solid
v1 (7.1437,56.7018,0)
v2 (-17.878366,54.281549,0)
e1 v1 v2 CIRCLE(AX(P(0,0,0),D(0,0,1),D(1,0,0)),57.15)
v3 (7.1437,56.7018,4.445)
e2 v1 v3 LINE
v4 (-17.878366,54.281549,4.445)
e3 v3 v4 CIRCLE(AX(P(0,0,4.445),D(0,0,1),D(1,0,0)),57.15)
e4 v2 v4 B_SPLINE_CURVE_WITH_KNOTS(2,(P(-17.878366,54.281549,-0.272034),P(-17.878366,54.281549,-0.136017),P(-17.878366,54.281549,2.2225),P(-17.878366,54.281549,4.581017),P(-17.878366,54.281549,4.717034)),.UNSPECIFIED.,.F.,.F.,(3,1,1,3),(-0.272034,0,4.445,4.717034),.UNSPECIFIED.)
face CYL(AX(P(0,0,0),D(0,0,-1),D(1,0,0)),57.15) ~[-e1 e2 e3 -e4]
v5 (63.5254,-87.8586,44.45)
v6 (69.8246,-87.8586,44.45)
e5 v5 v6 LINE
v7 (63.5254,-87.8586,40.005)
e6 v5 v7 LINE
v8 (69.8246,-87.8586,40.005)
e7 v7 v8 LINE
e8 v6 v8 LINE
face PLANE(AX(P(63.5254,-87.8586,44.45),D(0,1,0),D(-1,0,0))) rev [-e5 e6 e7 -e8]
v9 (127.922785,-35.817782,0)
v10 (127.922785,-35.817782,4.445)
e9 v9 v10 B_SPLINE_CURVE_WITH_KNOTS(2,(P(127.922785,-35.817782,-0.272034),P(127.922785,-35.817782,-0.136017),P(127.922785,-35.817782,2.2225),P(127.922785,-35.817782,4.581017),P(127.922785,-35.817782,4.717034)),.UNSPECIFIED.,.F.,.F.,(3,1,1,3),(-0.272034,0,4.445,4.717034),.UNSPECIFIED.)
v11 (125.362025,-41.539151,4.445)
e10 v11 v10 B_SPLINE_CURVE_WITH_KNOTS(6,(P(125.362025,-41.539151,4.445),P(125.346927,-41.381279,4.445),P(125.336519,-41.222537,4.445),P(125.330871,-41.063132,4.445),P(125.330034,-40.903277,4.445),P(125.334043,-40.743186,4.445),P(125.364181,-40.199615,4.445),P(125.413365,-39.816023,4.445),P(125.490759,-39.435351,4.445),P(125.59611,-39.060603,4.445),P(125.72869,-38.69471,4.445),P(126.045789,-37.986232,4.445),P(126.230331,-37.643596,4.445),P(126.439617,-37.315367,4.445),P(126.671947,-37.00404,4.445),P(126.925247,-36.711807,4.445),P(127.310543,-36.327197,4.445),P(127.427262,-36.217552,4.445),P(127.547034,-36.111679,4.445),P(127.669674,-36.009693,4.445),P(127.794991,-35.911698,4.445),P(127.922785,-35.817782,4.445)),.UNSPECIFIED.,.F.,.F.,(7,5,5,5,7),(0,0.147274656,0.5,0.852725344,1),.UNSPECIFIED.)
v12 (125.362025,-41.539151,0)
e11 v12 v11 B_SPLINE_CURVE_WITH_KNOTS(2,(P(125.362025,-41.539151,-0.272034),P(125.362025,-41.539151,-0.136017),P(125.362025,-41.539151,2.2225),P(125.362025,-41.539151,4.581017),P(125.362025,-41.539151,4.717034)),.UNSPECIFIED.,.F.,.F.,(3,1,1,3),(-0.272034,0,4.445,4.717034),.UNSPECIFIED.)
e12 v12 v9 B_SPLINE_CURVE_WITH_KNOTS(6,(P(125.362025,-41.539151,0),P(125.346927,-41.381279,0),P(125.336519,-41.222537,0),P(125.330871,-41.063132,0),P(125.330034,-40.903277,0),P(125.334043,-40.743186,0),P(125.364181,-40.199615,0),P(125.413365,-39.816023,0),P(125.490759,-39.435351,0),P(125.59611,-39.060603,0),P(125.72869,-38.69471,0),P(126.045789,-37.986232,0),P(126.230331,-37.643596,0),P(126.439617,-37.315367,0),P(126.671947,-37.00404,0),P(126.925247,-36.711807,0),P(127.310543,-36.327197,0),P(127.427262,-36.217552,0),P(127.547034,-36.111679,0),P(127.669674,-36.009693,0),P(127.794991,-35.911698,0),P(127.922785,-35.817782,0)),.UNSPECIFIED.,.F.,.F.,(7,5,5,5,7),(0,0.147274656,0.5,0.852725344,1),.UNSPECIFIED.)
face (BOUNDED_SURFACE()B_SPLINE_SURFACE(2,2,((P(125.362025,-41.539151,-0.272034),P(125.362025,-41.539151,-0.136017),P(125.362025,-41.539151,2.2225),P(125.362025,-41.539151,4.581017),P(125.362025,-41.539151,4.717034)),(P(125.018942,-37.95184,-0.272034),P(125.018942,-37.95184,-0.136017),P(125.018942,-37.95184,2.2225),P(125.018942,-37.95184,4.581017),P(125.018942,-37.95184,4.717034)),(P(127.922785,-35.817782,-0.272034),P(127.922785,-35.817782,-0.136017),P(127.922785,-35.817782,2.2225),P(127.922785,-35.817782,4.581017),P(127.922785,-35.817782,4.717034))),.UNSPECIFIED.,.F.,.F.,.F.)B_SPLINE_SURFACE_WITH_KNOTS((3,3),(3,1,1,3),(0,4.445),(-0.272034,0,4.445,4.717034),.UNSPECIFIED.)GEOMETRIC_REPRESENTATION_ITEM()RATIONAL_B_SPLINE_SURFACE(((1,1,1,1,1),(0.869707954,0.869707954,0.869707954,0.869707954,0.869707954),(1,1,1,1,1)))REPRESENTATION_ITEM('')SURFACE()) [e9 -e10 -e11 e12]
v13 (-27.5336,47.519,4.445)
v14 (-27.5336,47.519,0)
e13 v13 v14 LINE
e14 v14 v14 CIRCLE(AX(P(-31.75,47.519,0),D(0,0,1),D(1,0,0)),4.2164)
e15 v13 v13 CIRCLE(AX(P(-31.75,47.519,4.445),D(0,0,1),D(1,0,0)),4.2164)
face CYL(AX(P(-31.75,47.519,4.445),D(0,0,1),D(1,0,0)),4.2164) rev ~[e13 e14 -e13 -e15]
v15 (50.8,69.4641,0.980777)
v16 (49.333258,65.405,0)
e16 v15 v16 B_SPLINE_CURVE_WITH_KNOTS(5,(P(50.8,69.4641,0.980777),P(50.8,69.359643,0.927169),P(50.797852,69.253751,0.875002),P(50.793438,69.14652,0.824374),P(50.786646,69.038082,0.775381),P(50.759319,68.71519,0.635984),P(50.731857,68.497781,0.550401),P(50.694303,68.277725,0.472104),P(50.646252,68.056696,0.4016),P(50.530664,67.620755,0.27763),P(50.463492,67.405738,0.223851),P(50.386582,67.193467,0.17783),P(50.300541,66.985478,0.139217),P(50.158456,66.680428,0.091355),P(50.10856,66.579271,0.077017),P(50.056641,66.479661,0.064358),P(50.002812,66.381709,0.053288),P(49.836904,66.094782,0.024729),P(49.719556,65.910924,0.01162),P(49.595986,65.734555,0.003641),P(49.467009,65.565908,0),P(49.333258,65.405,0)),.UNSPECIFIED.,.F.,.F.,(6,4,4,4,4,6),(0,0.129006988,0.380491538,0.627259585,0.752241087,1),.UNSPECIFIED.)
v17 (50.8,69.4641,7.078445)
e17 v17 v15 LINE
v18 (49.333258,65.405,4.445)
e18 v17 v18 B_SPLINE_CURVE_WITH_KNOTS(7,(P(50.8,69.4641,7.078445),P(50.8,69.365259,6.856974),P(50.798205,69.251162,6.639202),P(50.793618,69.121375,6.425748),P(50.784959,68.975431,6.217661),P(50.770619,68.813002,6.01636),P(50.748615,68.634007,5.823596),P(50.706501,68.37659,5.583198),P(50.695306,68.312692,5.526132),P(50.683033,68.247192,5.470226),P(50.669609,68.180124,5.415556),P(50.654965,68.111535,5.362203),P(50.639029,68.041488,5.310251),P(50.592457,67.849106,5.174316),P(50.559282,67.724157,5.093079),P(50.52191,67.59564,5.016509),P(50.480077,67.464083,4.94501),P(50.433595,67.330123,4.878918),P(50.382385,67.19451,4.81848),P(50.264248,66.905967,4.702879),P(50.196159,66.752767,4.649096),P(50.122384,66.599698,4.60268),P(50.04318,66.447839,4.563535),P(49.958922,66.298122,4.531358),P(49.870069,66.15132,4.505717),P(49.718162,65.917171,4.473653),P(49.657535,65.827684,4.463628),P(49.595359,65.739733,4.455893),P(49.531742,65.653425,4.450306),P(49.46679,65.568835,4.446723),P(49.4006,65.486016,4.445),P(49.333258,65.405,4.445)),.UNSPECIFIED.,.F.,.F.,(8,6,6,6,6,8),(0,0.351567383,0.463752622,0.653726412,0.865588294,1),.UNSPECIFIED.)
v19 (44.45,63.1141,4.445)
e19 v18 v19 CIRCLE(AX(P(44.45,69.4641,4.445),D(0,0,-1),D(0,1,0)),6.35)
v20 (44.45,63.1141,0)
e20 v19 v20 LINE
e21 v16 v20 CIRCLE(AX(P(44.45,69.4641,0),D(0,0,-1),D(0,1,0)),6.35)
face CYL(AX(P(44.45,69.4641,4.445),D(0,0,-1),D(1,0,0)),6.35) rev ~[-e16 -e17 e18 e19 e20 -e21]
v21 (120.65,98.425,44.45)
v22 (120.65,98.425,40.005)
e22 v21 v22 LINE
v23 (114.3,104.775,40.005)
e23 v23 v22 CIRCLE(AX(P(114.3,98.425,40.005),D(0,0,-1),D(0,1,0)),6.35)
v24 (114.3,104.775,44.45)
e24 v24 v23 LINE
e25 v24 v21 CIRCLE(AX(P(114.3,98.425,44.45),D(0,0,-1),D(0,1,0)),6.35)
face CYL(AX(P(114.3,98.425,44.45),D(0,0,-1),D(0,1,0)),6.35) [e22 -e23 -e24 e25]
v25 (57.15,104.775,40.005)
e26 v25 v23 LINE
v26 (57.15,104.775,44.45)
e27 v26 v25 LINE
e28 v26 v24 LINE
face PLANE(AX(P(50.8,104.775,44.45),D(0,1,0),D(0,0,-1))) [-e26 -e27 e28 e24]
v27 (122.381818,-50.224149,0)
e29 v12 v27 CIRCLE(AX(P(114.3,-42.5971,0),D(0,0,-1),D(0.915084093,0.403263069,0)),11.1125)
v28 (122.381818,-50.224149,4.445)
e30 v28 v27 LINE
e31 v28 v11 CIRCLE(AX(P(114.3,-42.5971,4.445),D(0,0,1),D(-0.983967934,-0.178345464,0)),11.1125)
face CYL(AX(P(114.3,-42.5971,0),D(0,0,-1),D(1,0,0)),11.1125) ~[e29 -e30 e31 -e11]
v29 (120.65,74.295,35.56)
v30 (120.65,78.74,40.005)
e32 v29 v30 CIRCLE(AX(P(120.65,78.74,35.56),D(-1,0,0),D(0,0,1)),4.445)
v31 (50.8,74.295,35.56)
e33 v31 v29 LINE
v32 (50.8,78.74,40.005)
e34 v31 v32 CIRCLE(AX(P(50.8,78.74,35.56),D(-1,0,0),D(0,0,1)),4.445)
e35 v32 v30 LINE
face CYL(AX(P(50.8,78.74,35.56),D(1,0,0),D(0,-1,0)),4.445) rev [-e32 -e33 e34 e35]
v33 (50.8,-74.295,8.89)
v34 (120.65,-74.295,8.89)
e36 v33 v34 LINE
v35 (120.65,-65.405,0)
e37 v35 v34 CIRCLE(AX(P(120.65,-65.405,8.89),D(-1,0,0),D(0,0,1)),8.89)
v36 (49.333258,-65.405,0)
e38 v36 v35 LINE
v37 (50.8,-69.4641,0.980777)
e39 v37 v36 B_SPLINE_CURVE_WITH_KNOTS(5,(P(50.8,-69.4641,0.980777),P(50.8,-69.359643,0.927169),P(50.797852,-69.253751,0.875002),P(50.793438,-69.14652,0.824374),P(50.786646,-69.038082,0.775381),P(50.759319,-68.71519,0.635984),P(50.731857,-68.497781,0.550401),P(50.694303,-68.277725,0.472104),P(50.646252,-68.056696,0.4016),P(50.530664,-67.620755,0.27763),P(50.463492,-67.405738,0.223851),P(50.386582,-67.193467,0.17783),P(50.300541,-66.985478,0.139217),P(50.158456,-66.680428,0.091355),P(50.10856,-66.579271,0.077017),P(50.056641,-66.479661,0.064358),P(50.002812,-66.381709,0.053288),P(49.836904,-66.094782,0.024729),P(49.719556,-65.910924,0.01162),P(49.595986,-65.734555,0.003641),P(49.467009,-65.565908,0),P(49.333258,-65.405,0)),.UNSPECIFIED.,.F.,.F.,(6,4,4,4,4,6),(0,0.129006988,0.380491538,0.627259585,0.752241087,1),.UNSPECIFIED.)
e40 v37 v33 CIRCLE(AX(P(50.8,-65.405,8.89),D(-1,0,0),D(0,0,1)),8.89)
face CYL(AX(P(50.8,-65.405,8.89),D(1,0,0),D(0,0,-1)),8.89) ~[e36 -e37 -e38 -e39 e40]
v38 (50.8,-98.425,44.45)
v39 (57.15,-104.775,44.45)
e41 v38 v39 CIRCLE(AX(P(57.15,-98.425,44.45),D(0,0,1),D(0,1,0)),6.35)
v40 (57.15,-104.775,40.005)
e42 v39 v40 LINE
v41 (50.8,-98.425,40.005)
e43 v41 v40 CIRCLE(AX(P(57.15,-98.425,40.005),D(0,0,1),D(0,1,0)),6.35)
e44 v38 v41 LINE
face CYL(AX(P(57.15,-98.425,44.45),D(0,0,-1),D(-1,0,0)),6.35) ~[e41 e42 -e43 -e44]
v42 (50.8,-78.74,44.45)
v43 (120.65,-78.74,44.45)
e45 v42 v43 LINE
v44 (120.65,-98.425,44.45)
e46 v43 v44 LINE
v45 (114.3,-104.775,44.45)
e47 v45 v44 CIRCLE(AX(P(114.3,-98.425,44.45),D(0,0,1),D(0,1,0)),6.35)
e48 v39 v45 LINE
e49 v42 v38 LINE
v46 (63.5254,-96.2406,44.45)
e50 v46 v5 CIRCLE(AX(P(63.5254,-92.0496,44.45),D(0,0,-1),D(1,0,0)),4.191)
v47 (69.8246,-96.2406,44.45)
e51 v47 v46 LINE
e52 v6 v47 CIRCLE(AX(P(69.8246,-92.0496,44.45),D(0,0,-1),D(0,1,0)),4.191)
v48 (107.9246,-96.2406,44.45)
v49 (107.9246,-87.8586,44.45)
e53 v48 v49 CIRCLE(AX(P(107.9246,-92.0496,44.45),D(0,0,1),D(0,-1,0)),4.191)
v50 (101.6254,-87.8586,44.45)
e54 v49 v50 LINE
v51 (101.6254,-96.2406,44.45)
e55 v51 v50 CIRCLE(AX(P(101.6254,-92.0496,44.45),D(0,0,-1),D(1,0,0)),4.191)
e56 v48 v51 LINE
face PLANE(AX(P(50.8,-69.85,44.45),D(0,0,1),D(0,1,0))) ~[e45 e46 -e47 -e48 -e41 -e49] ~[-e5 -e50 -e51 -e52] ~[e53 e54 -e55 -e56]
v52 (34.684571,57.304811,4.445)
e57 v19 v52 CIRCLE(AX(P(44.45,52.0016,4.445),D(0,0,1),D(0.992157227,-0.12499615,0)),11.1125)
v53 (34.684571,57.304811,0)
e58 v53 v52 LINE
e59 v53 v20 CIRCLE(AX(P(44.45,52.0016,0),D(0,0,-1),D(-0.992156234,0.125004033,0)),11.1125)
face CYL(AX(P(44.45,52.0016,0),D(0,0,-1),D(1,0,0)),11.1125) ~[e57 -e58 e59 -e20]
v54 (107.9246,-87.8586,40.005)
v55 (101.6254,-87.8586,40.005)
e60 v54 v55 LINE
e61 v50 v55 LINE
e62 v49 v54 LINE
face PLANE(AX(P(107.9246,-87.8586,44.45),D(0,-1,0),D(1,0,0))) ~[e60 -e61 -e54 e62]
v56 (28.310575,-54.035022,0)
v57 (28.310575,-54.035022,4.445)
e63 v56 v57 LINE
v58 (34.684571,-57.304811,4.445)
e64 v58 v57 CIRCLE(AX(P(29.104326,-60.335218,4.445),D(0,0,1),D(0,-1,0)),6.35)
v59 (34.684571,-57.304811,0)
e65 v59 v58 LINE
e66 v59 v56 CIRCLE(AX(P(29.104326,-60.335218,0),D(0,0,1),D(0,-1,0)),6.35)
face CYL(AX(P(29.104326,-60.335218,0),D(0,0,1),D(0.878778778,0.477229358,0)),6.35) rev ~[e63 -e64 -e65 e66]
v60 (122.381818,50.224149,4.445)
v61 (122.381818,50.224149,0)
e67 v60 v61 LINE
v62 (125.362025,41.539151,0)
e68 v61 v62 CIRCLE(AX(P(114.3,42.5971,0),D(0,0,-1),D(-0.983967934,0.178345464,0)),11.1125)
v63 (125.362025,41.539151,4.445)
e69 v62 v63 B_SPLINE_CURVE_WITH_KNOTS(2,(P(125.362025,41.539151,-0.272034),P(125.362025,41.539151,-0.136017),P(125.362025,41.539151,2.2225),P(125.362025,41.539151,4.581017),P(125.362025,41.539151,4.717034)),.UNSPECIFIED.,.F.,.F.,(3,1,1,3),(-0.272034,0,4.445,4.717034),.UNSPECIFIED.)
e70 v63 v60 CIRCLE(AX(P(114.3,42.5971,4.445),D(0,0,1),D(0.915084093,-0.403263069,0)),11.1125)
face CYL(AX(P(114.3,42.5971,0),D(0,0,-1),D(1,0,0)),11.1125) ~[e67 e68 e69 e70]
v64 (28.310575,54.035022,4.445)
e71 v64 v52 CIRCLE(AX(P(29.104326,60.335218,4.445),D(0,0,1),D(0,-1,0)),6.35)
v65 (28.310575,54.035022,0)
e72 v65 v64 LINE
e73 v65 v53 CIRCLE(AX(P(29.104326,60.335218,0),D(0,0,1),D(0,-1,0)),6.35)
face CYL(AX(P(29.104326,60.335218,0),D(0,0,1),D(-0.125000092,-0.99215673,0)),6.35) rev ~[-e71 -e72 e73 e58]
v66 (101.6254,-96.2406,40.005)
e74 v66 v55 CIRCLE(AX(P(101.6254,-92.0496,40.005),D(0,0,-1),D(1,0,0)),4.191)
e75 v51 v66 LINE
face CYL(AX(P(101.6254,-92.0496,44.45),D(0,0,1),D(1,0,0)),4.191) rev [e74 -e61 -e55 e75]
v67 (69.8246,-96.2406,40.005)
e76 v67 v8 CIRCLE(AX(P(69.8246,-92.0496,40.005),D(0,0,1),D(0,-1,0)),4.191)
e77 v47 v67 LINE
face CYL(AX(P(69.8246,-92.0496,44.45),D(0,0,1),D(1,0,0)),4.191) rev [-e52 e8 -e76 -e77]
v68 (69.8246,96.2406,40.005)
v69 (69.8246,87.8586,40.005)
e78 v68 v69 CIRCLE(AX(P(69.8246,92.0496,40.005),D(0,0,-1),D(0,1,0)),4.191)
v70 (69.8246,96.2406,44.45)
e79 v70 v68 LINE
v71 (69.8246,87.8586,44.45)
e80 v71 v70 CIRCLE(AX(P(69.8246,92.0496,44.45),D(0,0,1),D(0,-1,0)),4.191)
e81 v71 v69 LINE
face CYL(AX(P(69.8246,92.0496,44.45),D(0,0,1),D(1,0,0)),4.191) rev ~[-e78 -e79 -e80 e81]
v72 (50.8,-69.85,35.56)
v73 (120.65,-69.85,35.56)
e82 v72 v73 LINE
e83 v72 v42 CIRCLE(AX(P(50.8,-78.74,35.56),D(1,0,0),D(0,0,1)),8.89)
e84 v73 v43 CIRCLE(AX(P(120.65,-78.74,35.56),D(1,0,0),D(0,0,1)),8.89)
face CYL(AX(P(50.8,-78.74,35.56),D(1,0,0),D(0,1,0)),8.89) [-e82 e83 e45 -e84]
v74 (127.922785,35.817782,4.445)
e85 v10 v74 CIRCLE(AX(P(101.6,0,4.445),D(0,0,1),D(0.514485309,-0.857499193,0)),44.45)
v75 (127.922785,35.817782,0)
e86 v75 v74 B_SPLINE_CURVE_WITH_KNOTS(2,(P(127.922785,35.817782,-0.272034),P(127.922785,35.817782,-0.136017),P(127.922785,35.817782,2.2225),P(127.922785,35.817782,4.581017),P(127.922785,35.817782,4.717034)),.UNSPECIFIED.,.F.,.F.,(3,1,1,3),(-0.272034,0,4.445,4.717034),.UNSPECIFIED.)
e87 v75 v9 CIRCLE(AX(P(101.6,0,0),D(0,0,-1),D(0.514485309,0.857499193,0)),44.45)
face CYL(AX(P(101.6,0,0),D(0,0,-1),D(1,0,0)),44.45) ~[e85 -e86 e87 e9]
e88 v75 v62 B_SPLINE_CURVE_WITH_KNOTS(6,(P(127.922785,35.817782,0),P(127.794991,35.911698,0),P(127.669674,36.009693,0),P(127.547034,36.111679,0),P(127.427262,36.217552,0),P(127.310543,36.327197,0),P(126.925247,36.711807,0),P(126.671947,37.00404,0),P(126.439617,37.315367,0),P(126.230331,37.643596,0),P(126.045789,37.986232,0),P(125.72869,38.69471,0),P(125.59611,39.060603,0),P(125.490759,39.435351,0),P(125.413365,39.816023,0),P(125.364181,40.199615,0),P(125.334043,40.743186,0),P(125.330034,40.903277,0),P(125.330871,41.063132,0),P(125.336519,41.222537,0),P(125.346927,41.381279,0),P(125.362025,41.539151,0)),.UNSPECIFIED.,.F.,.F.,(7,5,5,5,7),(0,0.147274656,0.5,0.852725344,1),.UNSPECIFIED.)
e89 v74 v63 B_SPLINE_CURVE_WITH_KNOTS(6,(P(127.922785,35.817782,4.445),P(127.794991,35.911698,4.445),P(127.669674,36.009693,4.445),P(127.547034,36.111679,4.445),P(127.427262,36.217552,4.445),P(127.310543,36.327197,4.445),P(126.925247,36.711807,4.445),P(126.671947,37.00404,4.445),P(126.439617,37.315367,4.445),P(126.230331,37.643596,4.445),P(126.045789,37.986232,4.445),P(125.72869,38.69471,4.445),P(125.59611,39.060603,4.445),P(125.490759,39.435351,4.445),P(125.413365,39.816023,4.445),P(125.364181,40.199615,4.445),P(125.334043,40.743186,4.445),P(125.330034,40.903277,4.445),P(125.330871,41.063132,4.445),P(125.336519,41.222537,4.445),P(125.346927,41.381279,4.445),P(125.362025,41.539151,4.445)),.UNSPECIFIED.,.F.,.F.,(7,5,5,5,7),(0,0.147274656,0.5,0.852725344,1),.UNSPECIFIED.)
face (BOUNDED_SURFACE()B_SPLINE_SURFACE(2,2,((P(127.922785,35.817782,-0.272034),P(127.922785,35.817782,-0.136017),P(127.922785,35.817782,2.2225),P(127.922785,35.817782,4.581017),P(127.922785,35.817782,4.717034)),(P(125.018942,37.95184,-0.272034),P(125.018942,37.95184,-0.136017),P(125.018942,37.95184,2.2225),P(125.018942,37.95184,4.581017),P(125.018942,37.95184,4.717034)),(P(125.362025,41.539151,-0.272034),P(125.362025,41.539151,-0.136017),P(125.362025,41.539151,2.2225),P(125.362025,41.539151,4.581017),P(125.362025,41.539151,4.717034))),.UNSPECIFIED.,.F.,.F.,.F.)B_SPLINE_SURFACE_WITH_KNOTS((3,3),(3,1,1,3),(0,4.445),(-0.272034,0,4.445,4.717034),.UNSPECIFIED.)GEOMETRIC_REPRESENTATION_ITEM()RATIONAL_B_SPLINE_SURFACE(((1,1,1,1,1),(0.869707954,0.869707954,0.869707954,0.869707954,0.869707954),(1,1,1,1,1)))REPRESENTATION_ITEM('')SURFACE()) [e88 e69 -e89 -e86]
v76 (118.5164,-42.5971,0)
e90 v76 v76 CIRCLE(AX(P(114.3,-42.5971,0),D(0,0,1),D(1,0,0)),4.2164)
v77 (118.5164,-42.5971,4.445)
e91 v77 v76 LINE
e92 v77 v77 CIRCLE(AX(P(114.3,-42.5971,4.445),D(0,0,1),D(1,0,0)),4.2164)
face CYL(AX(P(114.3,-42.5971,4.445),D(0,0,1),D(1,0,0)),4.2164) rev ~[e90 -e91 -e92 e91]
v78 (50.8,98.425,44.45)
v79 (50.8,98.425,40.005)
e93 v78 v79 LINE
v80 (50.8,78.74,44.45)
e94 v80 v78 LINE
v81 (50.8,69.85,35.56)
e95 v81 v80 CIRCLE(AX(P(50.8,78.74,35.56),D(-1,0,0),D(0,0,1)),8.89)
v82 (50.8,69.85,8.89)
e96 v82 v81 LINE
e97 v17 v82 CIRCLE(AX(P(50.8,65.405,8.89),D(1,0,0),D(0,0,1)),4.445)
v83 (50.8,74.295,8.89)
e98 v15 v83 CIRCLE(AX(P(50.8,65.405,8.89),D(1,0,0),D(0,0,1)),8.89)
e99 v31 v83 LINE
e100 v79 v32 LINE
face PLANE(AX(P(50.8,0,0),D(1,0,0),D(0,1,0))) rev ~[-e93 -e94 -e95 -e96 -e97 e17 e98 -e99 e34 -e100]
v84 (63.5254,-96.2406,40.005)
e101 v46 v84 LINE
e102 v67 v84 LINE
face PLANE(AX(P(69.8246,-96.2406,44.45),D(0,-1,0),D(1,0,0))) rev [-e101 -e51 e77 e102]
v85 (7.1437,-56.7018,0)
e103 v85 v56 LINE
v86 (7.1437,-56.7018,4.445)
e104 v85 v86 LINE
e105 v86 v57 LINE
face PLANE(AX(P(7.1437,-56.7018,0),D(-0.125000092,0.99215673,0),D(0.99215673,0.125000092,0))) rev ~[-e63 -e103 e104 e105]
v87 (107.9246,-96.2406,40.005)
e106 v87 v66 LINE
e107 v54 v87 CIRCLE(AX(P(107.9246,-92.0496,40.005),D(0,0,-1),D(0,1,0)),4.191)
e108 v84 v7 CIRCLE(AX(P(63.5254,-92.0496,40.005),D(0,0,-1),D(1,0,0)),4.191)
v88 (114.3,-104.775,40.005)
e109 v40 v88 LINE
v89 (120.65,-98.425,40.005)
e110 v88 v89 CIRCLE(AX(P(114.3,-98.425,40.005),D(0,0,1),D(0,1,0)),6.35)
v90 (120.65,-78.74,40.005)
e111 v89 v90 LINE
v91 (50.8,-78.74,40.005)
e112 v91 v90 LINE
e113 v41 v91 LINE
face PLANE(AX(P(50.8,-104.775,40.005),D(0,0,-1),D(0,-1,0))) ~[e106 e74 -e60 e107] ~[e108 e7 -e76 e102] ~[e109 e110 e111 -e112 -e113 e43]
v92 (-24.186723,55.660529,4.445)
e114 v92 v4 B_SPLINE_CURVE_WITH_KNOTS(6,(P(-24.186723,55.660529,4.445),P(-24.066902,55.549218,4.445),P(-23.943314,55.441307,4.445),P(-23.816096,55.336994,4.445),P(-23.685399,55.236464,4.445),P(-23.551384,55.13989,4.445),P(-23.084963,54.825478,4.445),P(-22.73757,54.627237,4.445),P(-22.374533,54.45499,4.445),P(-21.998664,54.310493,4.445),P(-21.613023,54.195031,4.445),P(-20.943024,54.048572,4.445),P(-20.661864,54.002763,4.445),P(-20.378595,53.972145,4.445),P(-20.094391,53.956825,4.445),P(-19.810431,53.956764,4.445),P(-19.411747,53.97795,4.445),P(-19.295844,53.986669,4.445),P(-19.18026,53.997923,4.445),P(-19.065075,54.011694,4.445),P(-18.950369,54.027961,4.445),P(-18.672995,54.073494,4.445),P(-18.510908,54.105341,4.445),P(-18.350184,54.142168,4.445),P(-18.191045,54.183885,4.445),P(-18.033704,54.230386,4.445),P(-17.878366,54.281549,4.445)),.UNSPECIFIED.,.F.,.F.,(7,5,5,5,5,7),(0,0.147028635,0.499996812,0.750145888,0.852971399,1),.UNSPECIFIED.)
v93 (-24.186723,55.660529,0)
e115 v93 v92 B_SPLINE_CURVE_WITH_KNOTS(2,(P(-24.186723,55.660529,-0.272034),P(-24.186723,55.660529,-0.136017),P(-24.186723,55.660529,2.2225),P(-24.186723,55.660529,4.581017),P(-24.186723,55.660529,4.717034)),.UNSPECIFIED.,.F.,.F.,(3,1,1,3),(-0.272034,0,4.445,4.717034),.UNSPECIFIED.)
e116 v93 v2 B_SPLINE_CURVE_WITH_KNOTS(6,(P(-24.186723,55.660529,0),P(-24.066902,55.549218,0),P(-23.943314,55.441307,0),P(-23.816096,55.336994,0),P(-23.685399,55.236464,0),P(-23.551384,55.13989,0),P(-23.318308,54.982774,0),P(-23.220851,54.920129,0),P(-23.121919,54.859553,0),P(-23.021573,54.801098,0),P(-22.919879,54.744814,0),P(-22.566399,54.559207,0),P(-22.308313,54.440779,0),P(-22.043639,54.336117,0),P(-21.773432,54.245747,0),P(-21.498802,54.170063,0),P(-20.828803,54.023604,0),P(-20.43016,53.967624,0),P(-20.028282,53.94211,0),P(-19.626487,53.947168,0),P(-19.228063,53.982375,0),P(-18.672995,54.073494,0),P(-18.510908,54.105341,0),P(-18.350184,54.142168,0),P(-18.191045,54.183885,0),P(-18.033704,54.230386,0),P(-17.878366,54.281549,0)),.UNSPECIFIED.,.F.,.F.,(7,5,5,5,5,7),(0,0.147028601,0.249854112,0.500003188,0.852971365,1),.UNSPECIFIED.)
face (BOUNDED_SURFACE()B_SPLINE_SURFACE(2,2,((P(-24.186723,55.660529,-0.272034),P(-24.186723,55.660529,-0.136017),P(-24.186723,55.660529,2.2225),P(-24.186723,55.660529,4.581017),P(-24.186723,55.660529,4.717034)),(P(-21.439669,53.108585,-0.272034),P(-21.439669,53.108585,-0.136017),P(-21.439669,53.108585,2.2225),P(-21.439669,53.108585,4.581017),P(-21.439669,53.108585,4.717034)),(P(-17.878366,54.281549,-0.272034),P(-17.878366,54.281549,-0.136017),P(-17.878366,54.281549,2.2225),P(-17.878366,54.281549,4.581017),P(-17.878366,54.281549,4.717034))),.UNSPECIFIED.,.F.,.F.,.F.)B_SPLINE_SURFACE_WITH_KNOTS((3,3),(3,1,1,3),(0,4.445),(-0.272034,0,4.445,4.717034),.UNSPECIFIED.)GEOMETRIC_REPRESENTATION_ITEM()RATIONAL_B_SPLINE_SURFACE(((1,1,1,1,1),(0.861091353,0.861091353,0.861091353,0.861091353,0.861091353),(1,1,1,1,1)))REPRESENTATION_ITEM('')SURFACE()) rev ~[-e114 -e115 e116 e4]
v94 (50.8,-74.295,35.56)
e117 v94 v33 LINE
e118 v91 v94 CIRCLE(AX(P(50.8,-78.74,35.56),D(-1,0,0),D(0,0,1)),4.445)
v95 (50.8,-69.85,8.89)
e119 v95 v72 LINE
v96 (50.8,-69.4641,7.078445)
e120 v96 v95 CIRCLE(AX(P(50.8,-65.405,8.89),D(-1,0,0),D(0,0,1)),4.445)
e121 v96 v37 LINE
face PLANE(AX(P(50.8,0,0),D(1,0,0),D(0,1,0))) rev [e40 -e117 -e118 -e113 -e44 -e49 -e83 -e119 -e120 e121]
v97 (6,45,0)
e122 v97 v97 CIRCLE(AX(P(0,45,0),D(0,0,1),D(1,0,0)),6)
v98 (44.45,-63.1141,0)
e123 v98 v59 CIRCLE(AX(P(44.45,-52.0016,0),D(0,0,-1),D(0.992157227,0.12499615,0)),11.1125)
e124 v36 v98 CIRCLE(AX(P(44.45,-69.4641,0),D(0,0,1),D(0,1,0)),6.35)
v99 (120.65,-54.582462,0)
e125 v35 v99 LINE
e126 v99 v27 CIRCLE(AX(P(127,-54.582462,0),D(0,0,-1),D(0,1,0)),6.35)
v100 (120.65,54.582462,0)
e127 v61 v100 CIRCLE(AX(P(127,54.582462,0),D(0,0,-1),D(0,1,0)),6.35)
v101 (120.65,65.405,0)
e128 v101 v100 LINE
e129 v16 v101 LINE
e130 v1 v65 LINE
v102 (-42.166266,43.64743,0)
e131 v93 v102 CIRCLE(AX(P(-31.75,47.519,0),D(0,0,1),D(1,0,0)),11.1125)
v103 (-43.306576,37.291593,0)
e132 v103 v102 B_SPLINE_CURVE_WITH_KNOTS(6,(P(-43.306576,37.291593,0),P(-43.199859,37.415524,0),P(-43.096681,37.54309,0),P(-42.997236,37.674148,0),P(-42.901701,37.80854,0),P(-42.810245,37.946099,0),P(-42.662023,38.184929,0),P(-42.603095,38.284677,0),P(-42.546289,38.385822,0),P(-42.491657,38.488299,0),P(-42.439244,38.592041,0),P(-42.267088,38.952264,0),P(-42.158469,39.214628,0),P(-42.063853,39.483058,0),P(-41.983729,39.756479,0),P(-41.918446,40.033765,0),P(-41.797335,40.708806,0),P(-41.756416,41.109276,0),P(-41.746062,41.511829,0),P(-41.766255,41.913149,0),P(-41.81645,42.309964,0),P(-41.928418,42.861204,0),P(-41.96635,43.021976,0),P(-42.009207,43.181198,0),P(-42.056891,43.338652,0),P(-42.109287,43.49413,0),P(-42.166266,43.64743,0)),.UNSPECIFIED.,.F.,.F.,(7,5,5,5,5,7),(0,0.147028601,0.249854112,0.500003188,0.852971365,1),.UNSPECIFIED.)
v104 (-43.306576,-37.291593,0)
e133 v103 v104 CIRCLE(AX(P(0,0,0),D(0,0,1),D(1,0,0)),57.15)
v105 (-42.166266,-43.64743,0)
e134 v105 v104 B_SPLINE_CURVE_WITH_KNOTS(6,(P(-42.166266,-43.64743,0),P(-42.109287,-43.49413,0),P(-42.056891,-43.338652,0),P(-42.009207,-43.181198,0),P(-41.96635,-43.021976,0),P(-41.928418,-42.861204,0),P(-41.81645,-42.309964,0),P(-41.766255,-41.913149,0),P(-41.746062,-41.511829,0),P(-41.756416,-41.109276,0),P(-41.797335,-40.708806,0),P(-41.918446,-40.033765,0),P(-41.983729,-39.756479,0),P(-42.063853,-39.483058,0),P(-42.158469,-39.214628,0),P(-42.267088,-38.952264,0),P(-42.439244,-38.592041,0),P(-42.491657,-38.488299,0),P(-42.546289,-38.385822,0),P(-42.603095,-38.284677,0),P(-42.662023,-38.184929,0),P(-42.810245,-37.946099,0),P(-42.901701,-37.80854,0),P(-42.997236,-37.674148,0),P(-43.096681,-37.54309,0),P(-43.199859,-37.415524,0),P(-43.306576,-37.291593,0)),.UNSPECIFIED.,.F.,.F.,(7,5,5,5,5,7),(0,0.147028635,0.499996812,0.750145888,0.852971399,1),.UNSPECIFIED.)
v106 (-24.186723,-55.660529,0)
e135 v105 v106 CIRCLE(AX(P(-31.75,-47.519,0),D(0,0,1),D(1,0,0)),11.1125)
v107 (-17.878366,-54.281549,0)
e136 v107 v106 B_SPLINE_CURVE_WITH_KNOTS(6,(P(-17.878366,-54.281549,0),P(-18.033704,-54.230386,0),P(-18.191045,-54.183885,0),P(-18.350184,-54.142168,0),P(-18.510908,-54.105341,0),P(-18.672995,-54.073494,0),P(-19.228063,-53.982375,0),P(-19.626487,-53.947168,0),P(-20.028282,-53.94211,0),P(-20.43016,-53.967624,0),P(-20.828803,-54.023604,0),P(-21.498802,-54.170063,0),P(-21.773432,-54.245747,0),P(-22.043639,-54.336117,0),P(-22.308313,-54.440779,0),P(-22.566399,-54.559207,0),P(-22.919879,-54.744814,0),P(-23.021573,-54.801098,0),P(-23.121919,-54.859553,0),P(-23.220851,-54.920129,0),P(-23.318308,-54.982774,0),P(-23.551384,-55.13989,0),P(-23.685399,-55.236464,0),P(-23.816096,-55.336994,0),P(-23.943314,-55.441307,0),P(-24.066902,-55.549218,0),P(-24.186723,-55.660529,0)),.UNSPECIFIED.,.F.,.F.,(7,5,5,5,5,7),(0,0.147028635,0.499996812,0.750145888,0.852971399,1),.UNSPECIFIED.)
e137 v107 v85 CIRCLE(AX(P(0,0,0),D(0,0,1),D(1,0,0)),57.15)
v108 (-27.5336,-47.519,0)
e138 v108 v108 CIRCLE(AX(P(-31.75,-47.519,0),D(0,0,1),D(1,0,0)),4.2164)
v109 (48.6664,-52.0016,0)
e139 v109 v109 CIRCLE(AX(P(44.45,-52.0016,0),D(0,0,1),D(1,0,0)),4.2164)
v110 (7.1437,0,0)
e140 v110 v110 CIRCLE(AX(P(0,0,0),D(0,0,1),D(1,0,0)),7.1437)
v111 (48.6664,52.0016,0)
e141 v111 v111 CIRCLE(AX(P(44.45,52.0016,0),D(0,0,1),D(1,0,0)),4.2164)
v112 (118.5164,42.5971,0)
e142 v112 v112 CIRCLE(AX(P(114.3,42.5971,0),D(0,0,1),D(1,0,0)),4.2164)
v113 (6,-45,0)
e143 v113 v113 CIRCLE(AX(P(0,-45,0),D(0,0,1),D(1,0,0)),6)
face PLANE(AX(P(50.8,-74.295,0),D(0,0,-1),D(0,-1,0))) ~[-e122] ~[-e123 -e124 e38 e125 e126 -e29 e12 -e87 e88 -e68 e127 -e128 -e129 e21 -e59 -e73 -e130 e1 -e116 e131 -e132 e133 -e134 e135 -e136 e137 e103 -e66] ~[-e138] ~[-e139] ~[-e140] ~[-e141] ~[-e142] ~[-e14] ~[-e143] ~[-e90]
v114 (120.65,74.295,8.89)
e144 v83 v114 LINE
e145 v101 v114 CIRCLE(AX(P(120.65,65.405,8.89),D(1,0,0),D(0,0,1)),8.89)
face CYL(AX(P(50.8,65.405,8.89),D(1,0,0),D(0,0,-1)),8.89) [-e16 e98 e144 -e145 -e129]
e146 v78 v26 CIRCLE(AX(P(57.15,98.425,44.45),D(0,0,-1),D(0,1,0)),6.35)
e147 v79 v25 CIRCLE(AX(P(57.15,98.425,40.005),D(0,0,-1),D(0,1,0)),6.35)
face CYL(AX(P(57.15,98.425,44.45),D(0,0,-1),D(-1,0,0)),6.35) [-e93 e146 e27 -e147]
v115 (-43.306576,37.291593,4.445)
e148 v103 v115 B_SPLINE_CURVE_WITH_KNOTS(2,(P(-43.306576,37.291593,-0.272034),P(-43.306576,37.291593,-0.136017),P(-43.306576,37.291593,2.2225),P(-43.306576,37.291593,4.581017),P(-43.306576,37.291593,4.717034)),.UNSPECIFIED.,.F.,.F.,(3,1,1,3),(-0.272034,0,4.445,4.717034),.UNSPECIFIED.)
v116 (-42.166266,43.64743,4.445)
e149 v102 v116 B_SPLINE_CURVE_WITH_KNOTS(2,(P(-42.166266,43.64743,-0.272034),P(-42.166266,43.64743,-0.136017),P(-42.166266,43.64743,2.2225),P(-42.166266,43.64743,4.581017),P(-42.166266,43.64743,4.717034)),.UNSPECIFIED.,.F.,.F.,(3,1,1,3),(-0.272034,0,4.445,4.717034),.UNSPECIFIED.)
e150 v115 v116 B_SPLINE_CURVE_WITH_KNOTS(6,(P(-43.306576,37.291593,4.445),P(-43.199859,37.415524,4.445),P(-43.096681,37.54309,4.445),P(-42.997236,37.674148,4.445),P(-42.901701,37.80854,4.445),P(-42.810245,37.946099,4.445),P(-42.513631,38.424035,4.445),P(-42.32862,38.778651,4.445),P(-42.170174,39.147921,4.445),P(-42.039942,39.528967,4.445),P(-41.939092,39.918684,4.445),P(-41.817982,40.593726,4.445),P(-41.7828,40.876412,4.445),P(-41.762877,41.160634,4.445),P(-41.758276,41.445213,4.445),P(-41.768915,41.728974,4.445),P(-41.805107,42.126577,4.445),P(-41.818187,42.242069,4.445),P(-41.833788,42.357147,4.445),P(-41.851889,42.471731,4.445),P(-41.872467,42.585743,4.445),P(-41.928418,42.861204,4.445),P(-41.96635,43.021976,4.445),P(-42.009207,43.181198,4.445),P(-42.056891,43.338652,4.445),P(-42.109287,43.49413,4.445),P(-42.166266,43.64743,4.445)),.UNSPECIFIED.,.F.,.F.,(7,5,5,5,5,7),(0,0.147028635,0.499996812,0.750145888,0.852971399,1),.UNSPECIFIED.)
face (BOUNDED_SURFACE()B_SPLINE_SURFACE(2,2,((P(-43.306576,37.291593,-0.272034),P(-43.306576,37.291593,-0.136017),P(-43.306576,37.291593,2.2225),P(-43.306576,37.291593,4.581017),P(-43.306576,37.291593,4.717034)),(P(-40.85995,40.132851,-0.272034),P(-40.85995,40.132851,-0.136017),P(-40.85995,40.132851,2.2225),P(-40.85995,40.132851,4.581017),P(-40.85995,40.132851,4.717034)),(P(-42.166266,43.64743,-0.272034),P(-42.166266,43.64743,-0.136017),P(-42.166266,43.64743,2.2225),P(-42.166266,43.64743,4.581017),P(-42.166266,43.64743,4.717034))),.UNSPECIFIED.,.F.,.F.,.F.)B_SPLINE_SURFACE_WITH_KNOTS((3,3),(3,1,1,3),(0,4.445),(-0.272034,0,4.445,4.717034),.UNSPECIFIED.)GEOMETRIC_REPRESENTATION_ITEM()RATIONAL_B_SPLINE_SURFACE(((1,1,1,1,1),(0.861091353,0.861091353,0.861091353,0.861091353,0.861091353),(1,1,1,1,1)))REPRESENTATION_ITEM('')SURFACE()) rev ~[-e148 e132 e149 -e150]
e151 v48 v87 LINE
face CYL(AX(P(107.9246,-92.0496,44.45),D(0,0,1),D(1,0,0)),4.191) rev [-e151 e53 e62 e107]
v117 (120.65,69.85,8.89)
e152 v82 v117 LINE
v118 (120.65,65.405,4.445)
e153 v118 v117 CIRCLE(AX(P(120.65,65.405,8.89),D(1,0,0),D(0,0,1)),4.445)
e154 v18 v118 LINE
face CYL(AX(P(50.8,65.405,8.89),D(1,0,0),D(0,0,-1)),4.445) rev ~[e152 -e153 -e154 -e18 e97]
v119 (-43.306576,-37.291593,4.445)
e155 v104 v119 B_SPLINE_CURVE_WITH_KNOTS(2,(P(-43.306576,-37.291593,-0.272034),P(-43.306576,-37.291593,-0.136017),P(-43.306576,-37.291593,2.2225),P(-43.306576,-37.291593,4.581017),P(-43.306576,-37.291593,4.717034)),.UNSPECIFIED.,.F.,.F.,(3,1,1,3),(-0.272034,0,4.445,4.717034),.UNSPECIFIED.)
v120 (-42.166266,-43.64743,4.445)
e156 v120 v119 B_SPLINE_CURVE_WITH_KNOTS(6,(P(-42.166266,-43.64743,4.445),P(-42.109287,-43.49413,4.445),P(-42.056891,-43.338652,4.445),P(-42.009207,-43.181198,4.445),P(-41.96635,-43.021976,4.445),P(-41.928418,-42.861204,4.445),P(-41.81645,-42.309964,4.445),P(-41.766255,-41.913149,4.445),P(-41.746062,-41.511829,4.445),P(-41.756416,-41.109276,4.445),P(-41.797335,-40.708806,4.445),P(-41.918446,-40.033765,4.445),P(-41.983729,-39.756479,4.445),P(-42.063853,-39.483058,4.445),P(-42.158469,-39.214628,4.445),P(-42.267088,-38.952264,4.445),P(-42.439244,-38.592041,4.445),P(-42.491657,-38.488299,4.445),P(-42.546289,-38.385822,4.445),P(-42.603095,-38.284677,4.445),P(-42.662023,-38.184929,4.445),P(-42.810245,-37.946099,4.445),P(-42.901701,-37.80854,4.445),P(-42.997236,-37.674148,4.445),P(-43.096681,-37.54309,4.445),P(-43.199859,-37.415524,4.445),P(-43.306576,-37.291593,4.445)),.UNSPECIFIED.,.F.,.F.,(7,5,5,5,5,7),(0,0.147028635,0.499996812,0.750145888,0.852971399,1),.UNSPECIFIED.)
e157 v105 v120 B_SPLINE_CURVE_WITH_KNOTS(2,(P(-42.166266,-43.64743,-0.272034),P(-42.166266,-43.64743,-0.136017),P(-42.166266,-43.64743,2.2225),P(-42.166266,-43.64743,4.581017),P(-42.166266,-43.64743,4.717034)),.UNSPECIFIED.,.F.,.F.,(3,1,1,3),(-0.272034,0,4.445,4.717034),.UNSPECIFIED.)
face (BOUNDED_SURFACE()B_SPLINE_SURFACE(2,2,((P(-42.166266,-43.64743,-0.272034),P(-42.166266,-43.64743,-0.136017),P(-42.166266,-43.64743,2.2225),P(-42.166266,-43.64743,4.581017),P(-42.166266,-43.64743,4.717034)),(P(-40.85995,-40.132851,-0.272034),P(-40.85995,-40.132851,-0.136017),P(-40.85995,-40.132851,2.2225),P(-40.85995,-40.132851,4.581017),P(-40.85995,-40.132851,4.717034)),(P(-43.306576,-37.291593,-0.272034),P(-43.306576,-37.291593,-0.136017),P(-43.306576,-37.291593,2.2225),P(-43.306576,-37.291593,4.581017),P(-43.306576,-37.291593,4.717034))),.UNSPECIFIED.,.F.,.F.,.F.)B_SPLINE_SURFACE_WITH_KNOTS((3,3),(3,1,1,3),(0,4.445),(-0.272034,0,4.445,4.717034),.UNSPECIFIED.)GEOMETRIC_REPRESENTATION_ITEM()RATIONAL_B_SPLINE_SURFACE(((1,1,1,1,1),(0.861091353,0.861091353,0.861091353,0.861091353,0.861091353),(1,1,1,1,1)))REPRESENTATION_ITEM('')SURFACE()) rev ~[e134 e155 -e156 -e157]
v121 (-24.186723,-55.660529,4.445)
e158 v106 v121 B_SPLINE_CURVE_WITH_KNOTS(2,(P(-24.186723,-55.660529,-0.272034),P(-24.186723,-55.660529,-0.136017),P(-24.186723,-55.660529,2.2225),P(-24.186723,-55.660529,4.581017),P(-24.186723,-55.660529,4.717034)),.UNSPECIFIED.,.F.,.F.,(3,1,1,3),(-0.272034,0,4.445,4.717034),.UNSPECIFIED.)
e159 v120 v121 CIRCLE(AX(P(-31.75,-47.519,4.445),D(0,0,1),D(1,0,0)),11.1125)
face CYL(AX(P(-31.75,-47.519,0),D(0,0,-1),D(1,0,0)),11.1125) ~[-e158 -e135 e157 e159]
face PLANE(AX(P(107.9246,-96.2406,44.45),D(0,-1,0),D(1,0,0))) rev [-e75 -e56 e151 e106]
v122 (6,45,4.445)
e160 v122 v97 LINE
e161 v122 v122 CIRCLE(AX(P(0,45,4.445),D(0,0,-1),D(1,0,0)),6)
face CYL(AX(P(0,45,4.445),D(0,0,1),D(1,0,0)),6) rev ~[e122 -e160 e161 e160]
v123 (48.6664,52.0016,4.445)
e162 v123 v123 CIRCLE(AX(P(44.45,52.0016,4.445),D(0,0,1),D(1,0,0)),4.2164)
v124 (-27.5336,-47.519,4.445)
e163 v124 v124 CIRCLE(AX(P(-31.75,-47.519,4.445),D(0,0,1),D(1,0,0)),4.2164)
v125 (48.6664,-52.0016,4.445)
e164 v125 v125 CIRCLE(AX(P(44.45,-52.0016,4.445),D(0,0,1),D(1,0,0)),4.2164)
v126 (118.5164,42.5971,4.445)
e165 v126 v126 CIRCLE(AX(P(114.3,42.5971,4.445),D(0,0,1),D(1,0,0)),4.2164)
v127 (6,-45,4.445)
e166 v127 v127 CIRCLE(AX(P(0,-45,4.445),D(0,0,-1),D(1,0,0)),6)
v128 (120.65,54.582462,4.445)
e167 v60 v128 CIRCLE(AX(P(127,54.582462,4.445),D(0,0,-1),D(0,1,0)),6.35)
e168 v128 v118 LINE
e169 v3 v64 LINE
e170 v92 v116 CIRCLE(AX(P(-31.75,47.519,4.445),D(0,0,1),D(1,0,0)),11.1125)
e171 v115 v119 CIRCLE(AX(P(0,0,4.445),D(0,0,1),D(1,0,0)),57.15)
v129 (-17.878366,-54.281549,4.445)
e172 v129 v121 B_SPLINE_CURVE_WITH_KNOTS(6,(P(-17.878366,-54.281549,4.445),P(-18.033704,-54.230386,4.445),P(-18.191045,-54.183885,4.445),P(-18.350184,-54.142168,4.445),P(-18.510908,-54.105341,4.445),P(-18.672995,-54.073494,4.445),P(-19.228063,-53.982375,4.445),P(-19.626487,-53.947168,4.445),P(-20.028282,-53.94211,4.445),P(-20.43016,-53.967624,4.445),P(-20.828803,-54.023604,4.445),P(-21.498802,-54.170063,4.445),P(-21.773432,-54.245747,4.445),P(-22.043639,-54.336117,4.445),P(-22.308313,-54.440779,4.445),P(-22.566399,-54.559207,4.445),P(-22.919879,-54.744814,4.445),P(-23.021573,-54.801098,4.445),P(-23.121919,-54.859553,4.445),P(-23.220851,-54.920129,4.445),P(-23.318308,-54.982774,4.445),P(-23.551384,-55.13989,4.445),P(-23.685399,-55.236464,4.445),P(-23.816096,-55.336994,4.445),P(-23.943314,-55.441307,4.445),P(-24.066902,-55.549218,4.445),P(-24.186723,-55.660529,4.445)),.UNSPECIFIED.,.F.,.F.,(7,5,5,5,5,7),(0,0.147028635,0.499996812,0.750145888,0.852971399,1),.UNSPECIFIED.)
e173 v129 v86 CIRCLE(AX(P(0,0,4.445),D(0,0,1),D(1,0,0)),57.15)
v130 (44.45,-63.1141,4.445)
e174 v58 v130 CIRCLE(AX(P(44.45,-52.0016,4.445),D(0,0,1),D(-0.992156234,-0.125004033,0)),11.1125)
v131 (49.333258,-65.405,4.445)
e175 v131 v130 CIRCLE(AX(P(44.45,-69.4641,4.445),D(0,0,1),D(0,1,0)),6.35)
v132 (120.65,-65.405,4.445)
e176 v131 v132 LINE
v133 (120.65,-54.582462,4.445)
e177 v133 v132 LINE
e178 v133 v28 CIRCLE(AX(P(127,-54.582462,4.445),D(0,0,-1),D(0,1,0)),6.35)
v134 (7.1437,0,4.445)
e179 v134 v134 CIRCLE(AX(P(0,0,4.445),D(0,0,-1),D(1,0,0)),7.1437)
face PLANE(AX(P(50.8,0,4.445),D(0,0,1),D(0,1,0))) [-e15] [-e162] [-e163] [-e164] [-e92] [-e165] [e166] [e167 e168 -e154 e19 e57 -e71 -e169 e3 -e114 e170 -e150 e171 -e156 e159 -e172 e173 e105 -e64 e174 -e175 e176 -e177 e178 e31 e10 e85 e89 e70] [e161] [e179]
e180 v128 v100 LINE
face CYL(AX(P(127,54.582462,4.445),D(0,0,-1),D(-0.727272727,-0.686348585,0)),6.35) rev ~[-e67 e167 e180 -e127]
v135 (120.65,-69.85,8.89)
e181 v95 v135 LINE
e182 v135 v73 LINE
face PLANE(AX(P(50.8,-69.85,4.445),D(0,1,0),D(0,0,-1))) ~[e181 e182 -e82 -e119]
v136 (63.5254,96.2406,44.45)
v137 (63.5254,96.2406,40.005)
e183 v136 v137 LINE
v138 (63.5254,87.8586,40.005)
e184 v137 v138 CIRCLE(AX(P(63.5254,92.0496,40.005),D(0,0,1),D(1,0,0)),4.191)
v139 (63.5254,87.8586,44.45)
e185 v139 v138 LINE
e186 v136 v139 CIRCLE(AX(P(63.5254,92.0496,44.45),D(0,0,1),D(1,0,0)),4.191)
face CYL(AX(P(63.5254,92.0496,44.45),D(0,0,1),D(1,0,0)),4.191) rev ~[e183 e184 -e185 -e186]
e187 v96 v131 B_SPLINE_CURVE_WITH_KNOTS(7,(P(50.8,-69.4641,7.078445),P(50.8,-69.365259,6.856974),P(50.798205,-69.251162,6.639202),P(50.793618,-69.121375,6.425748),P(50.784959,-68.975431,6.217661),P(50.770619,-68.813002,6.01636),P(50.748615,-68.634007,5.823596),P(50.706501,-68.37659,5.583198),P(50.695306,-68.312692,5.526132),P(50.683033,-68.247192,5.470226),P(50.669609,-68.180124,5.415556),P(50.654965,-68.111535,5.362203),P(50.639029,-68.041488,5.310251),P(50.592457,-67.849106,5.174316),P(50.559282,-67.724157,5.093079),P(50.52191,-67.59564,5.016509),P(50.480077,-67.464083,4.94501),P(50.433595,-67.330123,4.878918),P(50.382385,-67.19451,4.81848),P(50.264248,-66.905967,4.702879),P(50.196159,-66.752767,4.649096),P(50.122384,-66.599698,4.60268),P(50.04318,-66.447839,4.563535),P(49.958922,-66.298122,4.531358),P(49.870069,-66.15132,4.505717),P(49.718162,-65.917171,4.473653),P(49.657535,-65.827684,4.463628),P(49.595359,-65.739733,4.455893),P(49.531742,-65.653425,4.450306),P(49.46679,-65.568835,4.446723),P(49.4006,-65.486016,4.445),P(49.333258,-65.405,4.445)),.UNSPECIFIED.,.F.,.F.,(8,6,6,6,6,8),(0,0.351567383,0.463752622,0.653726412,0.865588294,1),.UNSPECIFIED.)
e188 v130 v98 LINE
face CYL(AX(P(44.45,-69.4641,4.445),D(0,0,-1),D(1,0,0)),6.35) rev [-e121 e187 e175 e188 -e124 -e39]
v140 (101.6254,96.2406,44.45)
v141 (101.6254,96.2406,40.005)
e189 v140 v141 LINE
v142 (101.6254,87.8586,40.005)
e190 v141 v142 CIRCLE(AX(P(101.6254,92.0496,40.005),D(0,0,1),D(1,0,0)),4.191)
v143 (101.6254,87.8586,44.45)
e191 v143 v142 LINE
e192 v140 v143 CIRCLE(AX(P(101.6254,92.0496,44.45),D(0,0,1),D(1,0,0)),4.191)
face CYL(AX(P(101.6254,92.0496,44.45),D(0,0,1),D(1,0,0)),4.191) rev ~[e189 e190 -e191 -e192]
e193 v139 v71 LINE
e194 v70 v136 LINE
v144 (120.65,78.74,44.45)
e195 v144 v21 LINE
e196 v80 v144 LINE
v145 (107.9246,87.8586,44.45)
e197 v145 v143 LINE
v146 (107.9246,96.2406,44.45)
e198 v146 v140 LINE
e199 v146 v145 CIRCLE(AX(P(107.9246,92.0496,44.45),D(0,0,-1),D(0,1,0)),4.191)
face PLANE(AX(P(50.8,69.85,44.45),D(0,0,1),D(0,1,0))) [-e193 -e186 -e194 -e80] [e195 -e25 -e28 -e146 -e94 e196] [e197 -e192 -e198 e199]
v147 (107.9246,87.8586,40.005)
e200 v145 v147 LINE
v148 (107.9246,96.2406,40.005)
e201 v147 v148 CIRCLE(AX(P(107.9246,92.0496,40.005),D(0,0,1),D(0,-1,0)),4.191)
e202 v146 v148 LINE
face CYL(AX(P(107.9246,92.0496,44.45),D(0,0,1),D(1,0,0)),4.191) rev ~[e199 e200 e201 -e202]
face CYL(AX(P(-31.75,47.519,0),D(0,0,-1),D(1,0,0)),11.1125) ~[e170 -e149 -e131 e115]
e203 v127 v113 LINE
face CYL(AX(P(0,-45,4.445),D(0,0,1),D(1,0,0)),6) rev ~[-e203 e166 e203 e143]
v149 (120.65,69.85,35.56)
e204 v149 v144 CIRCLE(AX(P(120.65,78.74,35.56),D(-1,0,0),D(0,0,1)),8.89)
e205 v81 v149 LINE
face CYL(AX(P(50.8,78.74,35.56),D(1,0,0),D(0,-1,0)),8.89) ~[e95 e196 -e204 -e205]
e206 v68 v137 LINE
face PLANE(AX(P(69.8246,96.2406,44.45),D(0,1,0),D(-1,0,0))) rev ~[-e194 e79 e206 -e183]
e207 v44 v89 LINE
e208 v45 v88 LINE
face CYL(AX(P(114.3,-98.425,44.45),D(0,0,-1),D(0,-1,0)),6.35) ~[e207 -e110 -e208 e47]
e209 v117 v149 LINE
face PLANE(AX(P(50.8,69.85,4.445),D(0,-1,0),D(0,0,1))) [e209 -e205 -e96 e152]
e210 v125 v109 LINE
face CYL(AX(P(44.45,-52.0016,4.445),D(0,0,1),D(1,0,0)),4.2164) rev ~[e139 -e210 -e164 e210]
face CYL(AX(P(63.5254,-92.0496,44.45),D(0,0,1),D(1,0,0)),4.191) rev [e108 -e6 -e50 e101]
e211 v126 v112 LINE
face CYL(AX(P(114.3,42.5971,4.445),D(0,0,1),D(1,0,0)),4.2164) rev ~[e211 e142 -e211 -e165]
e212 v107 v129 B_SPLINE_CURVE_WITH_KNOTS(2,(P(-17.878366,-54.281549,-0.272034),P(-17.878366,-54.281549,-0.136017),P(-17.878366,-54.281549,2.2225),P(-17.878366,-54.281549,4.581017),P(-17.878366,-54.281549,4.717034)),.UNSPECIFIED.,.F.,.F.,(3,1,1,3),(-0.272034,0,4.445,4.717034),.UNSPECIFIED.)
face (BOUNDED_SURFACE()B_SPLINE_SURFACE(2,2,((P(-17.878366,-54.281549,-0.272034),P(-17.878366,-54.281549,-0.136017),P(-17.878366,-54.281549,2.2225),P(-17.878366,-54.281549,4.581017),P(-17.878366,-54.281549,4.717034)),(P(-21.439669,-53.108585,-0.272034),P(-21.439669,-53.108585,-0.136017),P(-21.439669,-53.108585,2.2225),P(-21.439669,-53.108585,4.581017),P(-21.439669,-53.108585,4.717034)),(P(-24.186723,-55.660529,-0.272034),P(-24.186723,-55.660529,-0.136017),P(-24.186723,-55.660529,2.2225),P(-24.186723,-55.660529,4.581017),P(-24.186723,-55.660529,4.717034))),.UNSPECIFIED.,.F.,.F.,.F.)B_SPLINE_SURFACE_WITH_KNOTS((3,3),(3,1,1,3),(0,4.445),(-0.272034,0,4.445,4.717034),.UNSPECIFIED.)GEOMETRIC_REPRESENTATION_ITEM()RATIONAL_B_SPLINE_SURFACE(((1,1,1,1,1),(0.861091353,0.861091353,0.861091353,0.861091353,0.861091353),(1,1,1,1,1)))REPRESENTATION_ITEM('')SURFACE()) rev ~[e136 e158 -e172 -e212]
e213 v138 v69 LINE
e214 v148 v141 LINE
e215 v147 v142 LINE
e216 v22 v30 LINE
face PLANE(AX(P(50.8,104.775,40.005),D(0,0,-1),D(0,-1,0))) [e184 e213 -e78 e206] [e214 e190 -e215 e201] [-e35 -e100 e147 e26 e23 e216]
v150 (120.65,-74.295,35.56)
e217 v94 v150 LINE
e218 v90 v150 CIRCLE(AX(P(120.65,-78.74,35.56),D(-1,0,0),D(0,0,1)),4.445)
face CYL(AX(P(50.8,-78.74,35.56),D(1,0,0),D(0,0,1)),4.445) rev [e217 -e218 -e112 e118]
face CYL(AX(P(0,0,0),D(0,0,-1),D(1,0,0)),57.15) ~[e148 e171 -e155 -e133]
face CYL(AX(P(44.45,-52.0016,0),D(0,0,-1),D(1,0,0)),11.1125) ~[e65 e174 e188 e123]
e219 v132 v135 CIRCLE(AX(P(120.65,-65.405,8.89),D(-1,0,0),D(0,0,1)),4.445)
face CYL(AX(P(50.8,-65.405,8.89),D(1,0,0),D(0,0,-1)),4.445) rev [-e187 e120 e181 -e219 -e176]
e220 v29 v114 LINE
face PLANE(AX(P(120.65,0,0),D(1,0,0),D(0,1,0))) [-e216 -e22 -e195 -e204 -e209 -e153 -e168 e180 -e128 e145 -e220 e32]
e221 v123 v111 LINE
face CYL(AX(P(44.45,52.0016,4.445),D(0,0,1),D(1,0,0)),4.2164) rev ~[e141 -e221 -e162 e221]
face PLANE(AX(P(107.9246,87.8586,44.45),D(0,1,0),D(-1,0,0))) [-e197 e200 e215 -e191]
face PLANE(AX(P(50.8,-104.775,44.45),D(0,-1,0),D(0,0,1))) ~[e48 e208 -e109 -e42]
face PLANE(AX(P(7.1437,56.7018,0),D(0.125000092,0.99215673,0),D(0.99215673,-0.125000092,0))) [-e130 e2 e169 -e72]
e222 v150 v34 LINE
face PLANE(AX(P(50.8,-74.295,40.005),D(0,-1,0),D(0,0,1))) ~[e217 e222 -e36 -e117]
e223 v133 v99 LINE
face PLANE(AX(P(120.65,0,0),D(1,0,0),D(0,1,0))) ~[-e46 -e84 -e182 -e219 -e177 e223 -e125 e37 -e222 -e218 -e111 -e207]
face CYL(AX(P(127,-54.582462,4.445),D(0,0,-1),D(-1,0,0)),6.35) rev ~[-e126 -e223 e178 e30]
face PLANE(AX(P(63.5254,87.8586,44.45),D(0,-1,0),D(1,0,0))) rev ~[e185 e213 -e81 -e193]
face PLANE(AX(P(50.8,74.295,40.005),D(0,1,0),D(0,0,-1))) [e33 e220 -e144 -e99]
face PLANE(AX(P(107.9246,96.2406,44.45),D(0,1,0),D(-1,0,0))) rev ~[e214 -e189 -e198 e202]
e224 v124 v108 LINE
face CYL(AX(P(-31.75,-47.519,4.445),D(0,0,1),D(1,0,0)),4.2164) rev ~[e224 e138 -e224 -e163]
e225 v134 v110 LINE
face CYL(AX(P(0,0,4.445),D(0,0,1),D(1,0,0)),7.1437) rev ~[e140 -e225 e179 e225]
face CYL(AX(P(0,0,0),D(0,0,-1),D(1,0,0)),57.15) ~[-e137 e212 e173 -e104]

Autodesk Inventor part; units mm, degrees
ref_plane "XZ Plane" through (0, 0, 0) normal (0, 1, 0) x (-1, 0, 0)
ref_plane "XY Plane" through (0, 0, 0) normal (0, 0, 1) x (1, 0, 0)
sketch "Boceto1" plane through (0, 0, 0) normal (0, 0, 1) x (1, 0, 0)
  circle A0 centre (0, 0) radius 57.15
  circle A1 centre (101.6, 0) radius 44.45
  circle A2 centre (-31.75, 47.519) radius 11.1125
  circle A3 centre (-31.75, -47.519) radius 11.1125
  circle A4 centre (114.3, 42.5971) radius 11.1125
  circle A5 centre (114.3, -42.5971) radius 11.1125
  line L0 (7.1437, 56.7018) -> (107.1562, 44.1014)
  circle A6 centre (44.45, 52.0016) radius 11.1125
  line L1 (7.1437, -56.7018) -> (107.1562, -44.1014)
  circle A7 centre (44.45, -52.0016) radius 11.1125
  dimension "d0" = 114.3
  dimension "d1" = 88.9
  dimension "d2" = 203.2
  dimension "d3" = 22.225
  dimension "d4" = 22.225
  dimension "d7" = 22.225
  dimension "d8" = 22.225
  dimension "d11" = 22.225
  dimension "d13" = 0
  dimension "d14" = 22.225
  dimension "d35" = 31.75
  dimension "d36" = 31.75
  dimension "d37" = 44.45
  dimension "d38" = 44.45
  dimension "d39" = 12.7
  dimension "d40" = 12.7
extrude "Extrusión1" add sketch "Boceto1" along normal blind 4.445
ref_plane "Plano de trabajo1" through (50.8, 0, 0) normal (1, 0, 0) x (0, 1, 0)
sketch "Boceto3" plane through (50.8, 0, 0) normal (1, 0, 0) x (0, 1, 0)
  line L0 (0, 0) -> (0, 4.445)
  line L1 (-52.7651, 4.445) -> (-56.7018, 4.445) projected
  line L2 (0, 4.445) -> (69.85, 4.445)
  line L3 (69.85, 4.445) -> (69.85, 44.45)
  line L4 (69.85, 44.45) -> (104.775, 44.45)
  line L5 (104.775, 44.45) -> (104.775, 40.005)
  line L6 (104.775, 40.005) -> (74.295, 40.005)
  line L7 (74.295, 40.005) -> (74.295, 0)
  line L8 (74.295, 0) -> (0, 0)
  point P0 (37.2916, 4.445)
  point P1 (-37.2916, 4.445)
  dimension "d28" = 4.445
  dimension "d29" = 4.445
  dimension "d30" = 69.85
  dimension "d31" = 44.45
  dimension "d32" = 104.775
extrude "Extrusión3" add sketch "Boceto3" along normal blind 69.85
fillet "Empalme3" radius 4.445 2 edges at (85.725, 69.85, 4.445) (85.725, 74.295, 40.005)
fillet "Empalme4" radius 8.89 2 edges at (85.725, 69.85, 44.45) (85.725, 74.295, 0)
sketch "Boceto4" plane through (50.8, 104.775, 44.45) normal (0, 0, 1) x (1, 0, 0)
  circle A0 centre (12.7254, -12.7254) radius 4.191
  circle A1 centre (19.0246, -12.7254) radius 4.191
  circle A2 centre (57.1246, -12.7254) radius 4.191
  circle A3 centre (50.8254, -12.7254) radius 4.191
  line L0 (57.1246, -8.5344) -> (50.8254, -8.5344)
  line L1 (57.1246, -16.9164) -> (50.8254, -16.9164)
  line L2 (0, 0) -> (69.85, 0) projected
  line L3 (69.85, 0) -> (69.85, -26.035) projected
  line L4 (19.0246, -8.5344) -> (12.7254, -8.5344)
  line L5 (12.7254, -16.9164) -> (19.0246, -16.9164)
  line L6 (0, -26.035) -> (0, 0) projected
  point P0 (-50.8, -104.775)
  point P1 (6.35, 0)
  point P2 (63.5, 0)
  point P3 (69.85, -6.35)
  point P4 (0, -6.35)
  dimension "d44" = 8.382
  dimension "d45" = 8.382
  dimension "d46" = 14.6812
  dimension "d47" = 8.5344
  dimension "d48" = 12.7254
  dimension "d49" = 8.382
  dimension "d50" = 8.382
  dimension "d51" = 14.6812
  dimension "d52" = 8.5344
  dimension "d53" = 12.7254
extrude "Extrusión4" cut sketch "Boceto4" against normal up to surface (4.445 mm away)
fillet "Empalme5" radius 6.35 2 edges at (120.65, 104.775, 42.2275) (50.8, 104.775, 42.2275)
mirror "Simetría1" about plane through (0, 0, 0) normal (0, 1, 0) of "Extrusión3", "Empalme3", "Empalme4", "Extrusión4", "Empalme5"
sketch "Boceto2" plane through (0, 0, 4.445) normal (0, 0, 1) x (1, 0, 0)
  arc A0 (-21.9537, 52.7651) -> (-40.3458, 40.4764) centre (-31.75, 47.519) ccw projected
  circle A1 centre (-31.75, 47.519) radius 4.2164
  arc A2 (-40.3458, -40.4764) -> (-21.9537, -52.7651) centre (-31.75, -47.519) ccw projected
  circle A3 centre (-31.75, -47.519) radius 4.2164
  arc A4 (33.4247, -53.3907) -> (55.4753, -50.6125) centre (44.45, -52.0016) ccw projected
  circle A5 centre (44.45, -52.0016) radius 4.2164
  arc A6 (55.4753, 50.6125) -> (33.4247, 53.3907) centre (44.45, 52.0016) ccw projected
  circle A7 centre (44.45, 52.0016) radius 4.2164
  arc A8 (124.4689, 38.1158) -> (103.3657, 44.5789) centre (114.3, 42.5971) ccw projected
  circle A9 centre (114.3, 42.5971) radius 4.2164
  arc A10 (103.3657, -44.5789) -> (124.4689, -38.1158) centre (114.3, -42.5971) ccw projected
  circle A11 centre (114.3, -42.5971) radius 4.2164
  point P0 (0, 0)
  dimension "d18" = 8.4328
  dimension "d19" = 8.4328
  dimension "d20" = 8.4328
  dimension "d21" = 8.4328
  dimension "d22" = 8.4328
  dimension "d23" = 8.4328
extrude "Extrusión2" cut sketch "Boceto2" against normal up to surface (4.445 mm away)
fillet "Empalme6" radius 6.35 12 edges at (124.4689, 38.1158, 2.2225) (120.65, 51.7166, 2.2225) (-40.3458, 40.4764, 2.2225) (-21.9537, 52.7651, 2.2225) (124.4689, -38.1158, 2.2225) (120.65, -51.7166, 2.2225) (-21.9537, -52.7651, 2.2225) (-40.3458, -40.4764, 2.2225) (33.4247, -53.3907, 2.2225) (50.8, -61.1211, 2.2225) (50.8, 61.1211, 2.2225) (33.4247, 53.3907, 2.2225)
sketch "Boceto5" plane through (0, 0, 4.445) normal (0, 0, 1) x (1, 0, 0)
  circle A0 centre (0, 0) radius 7.1437
  line L0 (0, 0) -> (0, 45)
  line L1 (0, 0) -> (0, -45)
  circle A1 centre (0, 45) radius 6
  circle A2 centre (0, -45) radius 6
  dimension "d58" = 14.2875
  dimension "d59" = 45
  dimension "d60" = 45
  dimension "d61" = 12
  dimension "d62" = 12
extrude "Extrusión5" cut sketch "Boceto5" against normal up to surface (4.445 mm away)
equation "\"d16\" = t"
equation "\"d28\" = t"
equation "\"d29\" = t"
equation "\"d18\" = Q"
equation "\"d19\" = Q"
equation "\"d20\" = Q"
equation "\"d21\" = Q"
equation "\"d22\" = Q"
equation "\"d23\" = Q"
equation "\"d58\" = DF"
equation "\"d59\" = 0.5 * JF"
equation "\"d60\" = 0.5 * JF"
equation "\"d61\" = NF"
equation "\"d62\" = NF"
equation "\"t\" = 4.445"
equation "\"Q\" = 8.4328"
equation "\"DF\" = 14.2875"
equation "\"NF\" = 12"
equation "\"JF\" = 90"
properties part number "STEEL SIDE REDUCTION FRONT PLATE"
